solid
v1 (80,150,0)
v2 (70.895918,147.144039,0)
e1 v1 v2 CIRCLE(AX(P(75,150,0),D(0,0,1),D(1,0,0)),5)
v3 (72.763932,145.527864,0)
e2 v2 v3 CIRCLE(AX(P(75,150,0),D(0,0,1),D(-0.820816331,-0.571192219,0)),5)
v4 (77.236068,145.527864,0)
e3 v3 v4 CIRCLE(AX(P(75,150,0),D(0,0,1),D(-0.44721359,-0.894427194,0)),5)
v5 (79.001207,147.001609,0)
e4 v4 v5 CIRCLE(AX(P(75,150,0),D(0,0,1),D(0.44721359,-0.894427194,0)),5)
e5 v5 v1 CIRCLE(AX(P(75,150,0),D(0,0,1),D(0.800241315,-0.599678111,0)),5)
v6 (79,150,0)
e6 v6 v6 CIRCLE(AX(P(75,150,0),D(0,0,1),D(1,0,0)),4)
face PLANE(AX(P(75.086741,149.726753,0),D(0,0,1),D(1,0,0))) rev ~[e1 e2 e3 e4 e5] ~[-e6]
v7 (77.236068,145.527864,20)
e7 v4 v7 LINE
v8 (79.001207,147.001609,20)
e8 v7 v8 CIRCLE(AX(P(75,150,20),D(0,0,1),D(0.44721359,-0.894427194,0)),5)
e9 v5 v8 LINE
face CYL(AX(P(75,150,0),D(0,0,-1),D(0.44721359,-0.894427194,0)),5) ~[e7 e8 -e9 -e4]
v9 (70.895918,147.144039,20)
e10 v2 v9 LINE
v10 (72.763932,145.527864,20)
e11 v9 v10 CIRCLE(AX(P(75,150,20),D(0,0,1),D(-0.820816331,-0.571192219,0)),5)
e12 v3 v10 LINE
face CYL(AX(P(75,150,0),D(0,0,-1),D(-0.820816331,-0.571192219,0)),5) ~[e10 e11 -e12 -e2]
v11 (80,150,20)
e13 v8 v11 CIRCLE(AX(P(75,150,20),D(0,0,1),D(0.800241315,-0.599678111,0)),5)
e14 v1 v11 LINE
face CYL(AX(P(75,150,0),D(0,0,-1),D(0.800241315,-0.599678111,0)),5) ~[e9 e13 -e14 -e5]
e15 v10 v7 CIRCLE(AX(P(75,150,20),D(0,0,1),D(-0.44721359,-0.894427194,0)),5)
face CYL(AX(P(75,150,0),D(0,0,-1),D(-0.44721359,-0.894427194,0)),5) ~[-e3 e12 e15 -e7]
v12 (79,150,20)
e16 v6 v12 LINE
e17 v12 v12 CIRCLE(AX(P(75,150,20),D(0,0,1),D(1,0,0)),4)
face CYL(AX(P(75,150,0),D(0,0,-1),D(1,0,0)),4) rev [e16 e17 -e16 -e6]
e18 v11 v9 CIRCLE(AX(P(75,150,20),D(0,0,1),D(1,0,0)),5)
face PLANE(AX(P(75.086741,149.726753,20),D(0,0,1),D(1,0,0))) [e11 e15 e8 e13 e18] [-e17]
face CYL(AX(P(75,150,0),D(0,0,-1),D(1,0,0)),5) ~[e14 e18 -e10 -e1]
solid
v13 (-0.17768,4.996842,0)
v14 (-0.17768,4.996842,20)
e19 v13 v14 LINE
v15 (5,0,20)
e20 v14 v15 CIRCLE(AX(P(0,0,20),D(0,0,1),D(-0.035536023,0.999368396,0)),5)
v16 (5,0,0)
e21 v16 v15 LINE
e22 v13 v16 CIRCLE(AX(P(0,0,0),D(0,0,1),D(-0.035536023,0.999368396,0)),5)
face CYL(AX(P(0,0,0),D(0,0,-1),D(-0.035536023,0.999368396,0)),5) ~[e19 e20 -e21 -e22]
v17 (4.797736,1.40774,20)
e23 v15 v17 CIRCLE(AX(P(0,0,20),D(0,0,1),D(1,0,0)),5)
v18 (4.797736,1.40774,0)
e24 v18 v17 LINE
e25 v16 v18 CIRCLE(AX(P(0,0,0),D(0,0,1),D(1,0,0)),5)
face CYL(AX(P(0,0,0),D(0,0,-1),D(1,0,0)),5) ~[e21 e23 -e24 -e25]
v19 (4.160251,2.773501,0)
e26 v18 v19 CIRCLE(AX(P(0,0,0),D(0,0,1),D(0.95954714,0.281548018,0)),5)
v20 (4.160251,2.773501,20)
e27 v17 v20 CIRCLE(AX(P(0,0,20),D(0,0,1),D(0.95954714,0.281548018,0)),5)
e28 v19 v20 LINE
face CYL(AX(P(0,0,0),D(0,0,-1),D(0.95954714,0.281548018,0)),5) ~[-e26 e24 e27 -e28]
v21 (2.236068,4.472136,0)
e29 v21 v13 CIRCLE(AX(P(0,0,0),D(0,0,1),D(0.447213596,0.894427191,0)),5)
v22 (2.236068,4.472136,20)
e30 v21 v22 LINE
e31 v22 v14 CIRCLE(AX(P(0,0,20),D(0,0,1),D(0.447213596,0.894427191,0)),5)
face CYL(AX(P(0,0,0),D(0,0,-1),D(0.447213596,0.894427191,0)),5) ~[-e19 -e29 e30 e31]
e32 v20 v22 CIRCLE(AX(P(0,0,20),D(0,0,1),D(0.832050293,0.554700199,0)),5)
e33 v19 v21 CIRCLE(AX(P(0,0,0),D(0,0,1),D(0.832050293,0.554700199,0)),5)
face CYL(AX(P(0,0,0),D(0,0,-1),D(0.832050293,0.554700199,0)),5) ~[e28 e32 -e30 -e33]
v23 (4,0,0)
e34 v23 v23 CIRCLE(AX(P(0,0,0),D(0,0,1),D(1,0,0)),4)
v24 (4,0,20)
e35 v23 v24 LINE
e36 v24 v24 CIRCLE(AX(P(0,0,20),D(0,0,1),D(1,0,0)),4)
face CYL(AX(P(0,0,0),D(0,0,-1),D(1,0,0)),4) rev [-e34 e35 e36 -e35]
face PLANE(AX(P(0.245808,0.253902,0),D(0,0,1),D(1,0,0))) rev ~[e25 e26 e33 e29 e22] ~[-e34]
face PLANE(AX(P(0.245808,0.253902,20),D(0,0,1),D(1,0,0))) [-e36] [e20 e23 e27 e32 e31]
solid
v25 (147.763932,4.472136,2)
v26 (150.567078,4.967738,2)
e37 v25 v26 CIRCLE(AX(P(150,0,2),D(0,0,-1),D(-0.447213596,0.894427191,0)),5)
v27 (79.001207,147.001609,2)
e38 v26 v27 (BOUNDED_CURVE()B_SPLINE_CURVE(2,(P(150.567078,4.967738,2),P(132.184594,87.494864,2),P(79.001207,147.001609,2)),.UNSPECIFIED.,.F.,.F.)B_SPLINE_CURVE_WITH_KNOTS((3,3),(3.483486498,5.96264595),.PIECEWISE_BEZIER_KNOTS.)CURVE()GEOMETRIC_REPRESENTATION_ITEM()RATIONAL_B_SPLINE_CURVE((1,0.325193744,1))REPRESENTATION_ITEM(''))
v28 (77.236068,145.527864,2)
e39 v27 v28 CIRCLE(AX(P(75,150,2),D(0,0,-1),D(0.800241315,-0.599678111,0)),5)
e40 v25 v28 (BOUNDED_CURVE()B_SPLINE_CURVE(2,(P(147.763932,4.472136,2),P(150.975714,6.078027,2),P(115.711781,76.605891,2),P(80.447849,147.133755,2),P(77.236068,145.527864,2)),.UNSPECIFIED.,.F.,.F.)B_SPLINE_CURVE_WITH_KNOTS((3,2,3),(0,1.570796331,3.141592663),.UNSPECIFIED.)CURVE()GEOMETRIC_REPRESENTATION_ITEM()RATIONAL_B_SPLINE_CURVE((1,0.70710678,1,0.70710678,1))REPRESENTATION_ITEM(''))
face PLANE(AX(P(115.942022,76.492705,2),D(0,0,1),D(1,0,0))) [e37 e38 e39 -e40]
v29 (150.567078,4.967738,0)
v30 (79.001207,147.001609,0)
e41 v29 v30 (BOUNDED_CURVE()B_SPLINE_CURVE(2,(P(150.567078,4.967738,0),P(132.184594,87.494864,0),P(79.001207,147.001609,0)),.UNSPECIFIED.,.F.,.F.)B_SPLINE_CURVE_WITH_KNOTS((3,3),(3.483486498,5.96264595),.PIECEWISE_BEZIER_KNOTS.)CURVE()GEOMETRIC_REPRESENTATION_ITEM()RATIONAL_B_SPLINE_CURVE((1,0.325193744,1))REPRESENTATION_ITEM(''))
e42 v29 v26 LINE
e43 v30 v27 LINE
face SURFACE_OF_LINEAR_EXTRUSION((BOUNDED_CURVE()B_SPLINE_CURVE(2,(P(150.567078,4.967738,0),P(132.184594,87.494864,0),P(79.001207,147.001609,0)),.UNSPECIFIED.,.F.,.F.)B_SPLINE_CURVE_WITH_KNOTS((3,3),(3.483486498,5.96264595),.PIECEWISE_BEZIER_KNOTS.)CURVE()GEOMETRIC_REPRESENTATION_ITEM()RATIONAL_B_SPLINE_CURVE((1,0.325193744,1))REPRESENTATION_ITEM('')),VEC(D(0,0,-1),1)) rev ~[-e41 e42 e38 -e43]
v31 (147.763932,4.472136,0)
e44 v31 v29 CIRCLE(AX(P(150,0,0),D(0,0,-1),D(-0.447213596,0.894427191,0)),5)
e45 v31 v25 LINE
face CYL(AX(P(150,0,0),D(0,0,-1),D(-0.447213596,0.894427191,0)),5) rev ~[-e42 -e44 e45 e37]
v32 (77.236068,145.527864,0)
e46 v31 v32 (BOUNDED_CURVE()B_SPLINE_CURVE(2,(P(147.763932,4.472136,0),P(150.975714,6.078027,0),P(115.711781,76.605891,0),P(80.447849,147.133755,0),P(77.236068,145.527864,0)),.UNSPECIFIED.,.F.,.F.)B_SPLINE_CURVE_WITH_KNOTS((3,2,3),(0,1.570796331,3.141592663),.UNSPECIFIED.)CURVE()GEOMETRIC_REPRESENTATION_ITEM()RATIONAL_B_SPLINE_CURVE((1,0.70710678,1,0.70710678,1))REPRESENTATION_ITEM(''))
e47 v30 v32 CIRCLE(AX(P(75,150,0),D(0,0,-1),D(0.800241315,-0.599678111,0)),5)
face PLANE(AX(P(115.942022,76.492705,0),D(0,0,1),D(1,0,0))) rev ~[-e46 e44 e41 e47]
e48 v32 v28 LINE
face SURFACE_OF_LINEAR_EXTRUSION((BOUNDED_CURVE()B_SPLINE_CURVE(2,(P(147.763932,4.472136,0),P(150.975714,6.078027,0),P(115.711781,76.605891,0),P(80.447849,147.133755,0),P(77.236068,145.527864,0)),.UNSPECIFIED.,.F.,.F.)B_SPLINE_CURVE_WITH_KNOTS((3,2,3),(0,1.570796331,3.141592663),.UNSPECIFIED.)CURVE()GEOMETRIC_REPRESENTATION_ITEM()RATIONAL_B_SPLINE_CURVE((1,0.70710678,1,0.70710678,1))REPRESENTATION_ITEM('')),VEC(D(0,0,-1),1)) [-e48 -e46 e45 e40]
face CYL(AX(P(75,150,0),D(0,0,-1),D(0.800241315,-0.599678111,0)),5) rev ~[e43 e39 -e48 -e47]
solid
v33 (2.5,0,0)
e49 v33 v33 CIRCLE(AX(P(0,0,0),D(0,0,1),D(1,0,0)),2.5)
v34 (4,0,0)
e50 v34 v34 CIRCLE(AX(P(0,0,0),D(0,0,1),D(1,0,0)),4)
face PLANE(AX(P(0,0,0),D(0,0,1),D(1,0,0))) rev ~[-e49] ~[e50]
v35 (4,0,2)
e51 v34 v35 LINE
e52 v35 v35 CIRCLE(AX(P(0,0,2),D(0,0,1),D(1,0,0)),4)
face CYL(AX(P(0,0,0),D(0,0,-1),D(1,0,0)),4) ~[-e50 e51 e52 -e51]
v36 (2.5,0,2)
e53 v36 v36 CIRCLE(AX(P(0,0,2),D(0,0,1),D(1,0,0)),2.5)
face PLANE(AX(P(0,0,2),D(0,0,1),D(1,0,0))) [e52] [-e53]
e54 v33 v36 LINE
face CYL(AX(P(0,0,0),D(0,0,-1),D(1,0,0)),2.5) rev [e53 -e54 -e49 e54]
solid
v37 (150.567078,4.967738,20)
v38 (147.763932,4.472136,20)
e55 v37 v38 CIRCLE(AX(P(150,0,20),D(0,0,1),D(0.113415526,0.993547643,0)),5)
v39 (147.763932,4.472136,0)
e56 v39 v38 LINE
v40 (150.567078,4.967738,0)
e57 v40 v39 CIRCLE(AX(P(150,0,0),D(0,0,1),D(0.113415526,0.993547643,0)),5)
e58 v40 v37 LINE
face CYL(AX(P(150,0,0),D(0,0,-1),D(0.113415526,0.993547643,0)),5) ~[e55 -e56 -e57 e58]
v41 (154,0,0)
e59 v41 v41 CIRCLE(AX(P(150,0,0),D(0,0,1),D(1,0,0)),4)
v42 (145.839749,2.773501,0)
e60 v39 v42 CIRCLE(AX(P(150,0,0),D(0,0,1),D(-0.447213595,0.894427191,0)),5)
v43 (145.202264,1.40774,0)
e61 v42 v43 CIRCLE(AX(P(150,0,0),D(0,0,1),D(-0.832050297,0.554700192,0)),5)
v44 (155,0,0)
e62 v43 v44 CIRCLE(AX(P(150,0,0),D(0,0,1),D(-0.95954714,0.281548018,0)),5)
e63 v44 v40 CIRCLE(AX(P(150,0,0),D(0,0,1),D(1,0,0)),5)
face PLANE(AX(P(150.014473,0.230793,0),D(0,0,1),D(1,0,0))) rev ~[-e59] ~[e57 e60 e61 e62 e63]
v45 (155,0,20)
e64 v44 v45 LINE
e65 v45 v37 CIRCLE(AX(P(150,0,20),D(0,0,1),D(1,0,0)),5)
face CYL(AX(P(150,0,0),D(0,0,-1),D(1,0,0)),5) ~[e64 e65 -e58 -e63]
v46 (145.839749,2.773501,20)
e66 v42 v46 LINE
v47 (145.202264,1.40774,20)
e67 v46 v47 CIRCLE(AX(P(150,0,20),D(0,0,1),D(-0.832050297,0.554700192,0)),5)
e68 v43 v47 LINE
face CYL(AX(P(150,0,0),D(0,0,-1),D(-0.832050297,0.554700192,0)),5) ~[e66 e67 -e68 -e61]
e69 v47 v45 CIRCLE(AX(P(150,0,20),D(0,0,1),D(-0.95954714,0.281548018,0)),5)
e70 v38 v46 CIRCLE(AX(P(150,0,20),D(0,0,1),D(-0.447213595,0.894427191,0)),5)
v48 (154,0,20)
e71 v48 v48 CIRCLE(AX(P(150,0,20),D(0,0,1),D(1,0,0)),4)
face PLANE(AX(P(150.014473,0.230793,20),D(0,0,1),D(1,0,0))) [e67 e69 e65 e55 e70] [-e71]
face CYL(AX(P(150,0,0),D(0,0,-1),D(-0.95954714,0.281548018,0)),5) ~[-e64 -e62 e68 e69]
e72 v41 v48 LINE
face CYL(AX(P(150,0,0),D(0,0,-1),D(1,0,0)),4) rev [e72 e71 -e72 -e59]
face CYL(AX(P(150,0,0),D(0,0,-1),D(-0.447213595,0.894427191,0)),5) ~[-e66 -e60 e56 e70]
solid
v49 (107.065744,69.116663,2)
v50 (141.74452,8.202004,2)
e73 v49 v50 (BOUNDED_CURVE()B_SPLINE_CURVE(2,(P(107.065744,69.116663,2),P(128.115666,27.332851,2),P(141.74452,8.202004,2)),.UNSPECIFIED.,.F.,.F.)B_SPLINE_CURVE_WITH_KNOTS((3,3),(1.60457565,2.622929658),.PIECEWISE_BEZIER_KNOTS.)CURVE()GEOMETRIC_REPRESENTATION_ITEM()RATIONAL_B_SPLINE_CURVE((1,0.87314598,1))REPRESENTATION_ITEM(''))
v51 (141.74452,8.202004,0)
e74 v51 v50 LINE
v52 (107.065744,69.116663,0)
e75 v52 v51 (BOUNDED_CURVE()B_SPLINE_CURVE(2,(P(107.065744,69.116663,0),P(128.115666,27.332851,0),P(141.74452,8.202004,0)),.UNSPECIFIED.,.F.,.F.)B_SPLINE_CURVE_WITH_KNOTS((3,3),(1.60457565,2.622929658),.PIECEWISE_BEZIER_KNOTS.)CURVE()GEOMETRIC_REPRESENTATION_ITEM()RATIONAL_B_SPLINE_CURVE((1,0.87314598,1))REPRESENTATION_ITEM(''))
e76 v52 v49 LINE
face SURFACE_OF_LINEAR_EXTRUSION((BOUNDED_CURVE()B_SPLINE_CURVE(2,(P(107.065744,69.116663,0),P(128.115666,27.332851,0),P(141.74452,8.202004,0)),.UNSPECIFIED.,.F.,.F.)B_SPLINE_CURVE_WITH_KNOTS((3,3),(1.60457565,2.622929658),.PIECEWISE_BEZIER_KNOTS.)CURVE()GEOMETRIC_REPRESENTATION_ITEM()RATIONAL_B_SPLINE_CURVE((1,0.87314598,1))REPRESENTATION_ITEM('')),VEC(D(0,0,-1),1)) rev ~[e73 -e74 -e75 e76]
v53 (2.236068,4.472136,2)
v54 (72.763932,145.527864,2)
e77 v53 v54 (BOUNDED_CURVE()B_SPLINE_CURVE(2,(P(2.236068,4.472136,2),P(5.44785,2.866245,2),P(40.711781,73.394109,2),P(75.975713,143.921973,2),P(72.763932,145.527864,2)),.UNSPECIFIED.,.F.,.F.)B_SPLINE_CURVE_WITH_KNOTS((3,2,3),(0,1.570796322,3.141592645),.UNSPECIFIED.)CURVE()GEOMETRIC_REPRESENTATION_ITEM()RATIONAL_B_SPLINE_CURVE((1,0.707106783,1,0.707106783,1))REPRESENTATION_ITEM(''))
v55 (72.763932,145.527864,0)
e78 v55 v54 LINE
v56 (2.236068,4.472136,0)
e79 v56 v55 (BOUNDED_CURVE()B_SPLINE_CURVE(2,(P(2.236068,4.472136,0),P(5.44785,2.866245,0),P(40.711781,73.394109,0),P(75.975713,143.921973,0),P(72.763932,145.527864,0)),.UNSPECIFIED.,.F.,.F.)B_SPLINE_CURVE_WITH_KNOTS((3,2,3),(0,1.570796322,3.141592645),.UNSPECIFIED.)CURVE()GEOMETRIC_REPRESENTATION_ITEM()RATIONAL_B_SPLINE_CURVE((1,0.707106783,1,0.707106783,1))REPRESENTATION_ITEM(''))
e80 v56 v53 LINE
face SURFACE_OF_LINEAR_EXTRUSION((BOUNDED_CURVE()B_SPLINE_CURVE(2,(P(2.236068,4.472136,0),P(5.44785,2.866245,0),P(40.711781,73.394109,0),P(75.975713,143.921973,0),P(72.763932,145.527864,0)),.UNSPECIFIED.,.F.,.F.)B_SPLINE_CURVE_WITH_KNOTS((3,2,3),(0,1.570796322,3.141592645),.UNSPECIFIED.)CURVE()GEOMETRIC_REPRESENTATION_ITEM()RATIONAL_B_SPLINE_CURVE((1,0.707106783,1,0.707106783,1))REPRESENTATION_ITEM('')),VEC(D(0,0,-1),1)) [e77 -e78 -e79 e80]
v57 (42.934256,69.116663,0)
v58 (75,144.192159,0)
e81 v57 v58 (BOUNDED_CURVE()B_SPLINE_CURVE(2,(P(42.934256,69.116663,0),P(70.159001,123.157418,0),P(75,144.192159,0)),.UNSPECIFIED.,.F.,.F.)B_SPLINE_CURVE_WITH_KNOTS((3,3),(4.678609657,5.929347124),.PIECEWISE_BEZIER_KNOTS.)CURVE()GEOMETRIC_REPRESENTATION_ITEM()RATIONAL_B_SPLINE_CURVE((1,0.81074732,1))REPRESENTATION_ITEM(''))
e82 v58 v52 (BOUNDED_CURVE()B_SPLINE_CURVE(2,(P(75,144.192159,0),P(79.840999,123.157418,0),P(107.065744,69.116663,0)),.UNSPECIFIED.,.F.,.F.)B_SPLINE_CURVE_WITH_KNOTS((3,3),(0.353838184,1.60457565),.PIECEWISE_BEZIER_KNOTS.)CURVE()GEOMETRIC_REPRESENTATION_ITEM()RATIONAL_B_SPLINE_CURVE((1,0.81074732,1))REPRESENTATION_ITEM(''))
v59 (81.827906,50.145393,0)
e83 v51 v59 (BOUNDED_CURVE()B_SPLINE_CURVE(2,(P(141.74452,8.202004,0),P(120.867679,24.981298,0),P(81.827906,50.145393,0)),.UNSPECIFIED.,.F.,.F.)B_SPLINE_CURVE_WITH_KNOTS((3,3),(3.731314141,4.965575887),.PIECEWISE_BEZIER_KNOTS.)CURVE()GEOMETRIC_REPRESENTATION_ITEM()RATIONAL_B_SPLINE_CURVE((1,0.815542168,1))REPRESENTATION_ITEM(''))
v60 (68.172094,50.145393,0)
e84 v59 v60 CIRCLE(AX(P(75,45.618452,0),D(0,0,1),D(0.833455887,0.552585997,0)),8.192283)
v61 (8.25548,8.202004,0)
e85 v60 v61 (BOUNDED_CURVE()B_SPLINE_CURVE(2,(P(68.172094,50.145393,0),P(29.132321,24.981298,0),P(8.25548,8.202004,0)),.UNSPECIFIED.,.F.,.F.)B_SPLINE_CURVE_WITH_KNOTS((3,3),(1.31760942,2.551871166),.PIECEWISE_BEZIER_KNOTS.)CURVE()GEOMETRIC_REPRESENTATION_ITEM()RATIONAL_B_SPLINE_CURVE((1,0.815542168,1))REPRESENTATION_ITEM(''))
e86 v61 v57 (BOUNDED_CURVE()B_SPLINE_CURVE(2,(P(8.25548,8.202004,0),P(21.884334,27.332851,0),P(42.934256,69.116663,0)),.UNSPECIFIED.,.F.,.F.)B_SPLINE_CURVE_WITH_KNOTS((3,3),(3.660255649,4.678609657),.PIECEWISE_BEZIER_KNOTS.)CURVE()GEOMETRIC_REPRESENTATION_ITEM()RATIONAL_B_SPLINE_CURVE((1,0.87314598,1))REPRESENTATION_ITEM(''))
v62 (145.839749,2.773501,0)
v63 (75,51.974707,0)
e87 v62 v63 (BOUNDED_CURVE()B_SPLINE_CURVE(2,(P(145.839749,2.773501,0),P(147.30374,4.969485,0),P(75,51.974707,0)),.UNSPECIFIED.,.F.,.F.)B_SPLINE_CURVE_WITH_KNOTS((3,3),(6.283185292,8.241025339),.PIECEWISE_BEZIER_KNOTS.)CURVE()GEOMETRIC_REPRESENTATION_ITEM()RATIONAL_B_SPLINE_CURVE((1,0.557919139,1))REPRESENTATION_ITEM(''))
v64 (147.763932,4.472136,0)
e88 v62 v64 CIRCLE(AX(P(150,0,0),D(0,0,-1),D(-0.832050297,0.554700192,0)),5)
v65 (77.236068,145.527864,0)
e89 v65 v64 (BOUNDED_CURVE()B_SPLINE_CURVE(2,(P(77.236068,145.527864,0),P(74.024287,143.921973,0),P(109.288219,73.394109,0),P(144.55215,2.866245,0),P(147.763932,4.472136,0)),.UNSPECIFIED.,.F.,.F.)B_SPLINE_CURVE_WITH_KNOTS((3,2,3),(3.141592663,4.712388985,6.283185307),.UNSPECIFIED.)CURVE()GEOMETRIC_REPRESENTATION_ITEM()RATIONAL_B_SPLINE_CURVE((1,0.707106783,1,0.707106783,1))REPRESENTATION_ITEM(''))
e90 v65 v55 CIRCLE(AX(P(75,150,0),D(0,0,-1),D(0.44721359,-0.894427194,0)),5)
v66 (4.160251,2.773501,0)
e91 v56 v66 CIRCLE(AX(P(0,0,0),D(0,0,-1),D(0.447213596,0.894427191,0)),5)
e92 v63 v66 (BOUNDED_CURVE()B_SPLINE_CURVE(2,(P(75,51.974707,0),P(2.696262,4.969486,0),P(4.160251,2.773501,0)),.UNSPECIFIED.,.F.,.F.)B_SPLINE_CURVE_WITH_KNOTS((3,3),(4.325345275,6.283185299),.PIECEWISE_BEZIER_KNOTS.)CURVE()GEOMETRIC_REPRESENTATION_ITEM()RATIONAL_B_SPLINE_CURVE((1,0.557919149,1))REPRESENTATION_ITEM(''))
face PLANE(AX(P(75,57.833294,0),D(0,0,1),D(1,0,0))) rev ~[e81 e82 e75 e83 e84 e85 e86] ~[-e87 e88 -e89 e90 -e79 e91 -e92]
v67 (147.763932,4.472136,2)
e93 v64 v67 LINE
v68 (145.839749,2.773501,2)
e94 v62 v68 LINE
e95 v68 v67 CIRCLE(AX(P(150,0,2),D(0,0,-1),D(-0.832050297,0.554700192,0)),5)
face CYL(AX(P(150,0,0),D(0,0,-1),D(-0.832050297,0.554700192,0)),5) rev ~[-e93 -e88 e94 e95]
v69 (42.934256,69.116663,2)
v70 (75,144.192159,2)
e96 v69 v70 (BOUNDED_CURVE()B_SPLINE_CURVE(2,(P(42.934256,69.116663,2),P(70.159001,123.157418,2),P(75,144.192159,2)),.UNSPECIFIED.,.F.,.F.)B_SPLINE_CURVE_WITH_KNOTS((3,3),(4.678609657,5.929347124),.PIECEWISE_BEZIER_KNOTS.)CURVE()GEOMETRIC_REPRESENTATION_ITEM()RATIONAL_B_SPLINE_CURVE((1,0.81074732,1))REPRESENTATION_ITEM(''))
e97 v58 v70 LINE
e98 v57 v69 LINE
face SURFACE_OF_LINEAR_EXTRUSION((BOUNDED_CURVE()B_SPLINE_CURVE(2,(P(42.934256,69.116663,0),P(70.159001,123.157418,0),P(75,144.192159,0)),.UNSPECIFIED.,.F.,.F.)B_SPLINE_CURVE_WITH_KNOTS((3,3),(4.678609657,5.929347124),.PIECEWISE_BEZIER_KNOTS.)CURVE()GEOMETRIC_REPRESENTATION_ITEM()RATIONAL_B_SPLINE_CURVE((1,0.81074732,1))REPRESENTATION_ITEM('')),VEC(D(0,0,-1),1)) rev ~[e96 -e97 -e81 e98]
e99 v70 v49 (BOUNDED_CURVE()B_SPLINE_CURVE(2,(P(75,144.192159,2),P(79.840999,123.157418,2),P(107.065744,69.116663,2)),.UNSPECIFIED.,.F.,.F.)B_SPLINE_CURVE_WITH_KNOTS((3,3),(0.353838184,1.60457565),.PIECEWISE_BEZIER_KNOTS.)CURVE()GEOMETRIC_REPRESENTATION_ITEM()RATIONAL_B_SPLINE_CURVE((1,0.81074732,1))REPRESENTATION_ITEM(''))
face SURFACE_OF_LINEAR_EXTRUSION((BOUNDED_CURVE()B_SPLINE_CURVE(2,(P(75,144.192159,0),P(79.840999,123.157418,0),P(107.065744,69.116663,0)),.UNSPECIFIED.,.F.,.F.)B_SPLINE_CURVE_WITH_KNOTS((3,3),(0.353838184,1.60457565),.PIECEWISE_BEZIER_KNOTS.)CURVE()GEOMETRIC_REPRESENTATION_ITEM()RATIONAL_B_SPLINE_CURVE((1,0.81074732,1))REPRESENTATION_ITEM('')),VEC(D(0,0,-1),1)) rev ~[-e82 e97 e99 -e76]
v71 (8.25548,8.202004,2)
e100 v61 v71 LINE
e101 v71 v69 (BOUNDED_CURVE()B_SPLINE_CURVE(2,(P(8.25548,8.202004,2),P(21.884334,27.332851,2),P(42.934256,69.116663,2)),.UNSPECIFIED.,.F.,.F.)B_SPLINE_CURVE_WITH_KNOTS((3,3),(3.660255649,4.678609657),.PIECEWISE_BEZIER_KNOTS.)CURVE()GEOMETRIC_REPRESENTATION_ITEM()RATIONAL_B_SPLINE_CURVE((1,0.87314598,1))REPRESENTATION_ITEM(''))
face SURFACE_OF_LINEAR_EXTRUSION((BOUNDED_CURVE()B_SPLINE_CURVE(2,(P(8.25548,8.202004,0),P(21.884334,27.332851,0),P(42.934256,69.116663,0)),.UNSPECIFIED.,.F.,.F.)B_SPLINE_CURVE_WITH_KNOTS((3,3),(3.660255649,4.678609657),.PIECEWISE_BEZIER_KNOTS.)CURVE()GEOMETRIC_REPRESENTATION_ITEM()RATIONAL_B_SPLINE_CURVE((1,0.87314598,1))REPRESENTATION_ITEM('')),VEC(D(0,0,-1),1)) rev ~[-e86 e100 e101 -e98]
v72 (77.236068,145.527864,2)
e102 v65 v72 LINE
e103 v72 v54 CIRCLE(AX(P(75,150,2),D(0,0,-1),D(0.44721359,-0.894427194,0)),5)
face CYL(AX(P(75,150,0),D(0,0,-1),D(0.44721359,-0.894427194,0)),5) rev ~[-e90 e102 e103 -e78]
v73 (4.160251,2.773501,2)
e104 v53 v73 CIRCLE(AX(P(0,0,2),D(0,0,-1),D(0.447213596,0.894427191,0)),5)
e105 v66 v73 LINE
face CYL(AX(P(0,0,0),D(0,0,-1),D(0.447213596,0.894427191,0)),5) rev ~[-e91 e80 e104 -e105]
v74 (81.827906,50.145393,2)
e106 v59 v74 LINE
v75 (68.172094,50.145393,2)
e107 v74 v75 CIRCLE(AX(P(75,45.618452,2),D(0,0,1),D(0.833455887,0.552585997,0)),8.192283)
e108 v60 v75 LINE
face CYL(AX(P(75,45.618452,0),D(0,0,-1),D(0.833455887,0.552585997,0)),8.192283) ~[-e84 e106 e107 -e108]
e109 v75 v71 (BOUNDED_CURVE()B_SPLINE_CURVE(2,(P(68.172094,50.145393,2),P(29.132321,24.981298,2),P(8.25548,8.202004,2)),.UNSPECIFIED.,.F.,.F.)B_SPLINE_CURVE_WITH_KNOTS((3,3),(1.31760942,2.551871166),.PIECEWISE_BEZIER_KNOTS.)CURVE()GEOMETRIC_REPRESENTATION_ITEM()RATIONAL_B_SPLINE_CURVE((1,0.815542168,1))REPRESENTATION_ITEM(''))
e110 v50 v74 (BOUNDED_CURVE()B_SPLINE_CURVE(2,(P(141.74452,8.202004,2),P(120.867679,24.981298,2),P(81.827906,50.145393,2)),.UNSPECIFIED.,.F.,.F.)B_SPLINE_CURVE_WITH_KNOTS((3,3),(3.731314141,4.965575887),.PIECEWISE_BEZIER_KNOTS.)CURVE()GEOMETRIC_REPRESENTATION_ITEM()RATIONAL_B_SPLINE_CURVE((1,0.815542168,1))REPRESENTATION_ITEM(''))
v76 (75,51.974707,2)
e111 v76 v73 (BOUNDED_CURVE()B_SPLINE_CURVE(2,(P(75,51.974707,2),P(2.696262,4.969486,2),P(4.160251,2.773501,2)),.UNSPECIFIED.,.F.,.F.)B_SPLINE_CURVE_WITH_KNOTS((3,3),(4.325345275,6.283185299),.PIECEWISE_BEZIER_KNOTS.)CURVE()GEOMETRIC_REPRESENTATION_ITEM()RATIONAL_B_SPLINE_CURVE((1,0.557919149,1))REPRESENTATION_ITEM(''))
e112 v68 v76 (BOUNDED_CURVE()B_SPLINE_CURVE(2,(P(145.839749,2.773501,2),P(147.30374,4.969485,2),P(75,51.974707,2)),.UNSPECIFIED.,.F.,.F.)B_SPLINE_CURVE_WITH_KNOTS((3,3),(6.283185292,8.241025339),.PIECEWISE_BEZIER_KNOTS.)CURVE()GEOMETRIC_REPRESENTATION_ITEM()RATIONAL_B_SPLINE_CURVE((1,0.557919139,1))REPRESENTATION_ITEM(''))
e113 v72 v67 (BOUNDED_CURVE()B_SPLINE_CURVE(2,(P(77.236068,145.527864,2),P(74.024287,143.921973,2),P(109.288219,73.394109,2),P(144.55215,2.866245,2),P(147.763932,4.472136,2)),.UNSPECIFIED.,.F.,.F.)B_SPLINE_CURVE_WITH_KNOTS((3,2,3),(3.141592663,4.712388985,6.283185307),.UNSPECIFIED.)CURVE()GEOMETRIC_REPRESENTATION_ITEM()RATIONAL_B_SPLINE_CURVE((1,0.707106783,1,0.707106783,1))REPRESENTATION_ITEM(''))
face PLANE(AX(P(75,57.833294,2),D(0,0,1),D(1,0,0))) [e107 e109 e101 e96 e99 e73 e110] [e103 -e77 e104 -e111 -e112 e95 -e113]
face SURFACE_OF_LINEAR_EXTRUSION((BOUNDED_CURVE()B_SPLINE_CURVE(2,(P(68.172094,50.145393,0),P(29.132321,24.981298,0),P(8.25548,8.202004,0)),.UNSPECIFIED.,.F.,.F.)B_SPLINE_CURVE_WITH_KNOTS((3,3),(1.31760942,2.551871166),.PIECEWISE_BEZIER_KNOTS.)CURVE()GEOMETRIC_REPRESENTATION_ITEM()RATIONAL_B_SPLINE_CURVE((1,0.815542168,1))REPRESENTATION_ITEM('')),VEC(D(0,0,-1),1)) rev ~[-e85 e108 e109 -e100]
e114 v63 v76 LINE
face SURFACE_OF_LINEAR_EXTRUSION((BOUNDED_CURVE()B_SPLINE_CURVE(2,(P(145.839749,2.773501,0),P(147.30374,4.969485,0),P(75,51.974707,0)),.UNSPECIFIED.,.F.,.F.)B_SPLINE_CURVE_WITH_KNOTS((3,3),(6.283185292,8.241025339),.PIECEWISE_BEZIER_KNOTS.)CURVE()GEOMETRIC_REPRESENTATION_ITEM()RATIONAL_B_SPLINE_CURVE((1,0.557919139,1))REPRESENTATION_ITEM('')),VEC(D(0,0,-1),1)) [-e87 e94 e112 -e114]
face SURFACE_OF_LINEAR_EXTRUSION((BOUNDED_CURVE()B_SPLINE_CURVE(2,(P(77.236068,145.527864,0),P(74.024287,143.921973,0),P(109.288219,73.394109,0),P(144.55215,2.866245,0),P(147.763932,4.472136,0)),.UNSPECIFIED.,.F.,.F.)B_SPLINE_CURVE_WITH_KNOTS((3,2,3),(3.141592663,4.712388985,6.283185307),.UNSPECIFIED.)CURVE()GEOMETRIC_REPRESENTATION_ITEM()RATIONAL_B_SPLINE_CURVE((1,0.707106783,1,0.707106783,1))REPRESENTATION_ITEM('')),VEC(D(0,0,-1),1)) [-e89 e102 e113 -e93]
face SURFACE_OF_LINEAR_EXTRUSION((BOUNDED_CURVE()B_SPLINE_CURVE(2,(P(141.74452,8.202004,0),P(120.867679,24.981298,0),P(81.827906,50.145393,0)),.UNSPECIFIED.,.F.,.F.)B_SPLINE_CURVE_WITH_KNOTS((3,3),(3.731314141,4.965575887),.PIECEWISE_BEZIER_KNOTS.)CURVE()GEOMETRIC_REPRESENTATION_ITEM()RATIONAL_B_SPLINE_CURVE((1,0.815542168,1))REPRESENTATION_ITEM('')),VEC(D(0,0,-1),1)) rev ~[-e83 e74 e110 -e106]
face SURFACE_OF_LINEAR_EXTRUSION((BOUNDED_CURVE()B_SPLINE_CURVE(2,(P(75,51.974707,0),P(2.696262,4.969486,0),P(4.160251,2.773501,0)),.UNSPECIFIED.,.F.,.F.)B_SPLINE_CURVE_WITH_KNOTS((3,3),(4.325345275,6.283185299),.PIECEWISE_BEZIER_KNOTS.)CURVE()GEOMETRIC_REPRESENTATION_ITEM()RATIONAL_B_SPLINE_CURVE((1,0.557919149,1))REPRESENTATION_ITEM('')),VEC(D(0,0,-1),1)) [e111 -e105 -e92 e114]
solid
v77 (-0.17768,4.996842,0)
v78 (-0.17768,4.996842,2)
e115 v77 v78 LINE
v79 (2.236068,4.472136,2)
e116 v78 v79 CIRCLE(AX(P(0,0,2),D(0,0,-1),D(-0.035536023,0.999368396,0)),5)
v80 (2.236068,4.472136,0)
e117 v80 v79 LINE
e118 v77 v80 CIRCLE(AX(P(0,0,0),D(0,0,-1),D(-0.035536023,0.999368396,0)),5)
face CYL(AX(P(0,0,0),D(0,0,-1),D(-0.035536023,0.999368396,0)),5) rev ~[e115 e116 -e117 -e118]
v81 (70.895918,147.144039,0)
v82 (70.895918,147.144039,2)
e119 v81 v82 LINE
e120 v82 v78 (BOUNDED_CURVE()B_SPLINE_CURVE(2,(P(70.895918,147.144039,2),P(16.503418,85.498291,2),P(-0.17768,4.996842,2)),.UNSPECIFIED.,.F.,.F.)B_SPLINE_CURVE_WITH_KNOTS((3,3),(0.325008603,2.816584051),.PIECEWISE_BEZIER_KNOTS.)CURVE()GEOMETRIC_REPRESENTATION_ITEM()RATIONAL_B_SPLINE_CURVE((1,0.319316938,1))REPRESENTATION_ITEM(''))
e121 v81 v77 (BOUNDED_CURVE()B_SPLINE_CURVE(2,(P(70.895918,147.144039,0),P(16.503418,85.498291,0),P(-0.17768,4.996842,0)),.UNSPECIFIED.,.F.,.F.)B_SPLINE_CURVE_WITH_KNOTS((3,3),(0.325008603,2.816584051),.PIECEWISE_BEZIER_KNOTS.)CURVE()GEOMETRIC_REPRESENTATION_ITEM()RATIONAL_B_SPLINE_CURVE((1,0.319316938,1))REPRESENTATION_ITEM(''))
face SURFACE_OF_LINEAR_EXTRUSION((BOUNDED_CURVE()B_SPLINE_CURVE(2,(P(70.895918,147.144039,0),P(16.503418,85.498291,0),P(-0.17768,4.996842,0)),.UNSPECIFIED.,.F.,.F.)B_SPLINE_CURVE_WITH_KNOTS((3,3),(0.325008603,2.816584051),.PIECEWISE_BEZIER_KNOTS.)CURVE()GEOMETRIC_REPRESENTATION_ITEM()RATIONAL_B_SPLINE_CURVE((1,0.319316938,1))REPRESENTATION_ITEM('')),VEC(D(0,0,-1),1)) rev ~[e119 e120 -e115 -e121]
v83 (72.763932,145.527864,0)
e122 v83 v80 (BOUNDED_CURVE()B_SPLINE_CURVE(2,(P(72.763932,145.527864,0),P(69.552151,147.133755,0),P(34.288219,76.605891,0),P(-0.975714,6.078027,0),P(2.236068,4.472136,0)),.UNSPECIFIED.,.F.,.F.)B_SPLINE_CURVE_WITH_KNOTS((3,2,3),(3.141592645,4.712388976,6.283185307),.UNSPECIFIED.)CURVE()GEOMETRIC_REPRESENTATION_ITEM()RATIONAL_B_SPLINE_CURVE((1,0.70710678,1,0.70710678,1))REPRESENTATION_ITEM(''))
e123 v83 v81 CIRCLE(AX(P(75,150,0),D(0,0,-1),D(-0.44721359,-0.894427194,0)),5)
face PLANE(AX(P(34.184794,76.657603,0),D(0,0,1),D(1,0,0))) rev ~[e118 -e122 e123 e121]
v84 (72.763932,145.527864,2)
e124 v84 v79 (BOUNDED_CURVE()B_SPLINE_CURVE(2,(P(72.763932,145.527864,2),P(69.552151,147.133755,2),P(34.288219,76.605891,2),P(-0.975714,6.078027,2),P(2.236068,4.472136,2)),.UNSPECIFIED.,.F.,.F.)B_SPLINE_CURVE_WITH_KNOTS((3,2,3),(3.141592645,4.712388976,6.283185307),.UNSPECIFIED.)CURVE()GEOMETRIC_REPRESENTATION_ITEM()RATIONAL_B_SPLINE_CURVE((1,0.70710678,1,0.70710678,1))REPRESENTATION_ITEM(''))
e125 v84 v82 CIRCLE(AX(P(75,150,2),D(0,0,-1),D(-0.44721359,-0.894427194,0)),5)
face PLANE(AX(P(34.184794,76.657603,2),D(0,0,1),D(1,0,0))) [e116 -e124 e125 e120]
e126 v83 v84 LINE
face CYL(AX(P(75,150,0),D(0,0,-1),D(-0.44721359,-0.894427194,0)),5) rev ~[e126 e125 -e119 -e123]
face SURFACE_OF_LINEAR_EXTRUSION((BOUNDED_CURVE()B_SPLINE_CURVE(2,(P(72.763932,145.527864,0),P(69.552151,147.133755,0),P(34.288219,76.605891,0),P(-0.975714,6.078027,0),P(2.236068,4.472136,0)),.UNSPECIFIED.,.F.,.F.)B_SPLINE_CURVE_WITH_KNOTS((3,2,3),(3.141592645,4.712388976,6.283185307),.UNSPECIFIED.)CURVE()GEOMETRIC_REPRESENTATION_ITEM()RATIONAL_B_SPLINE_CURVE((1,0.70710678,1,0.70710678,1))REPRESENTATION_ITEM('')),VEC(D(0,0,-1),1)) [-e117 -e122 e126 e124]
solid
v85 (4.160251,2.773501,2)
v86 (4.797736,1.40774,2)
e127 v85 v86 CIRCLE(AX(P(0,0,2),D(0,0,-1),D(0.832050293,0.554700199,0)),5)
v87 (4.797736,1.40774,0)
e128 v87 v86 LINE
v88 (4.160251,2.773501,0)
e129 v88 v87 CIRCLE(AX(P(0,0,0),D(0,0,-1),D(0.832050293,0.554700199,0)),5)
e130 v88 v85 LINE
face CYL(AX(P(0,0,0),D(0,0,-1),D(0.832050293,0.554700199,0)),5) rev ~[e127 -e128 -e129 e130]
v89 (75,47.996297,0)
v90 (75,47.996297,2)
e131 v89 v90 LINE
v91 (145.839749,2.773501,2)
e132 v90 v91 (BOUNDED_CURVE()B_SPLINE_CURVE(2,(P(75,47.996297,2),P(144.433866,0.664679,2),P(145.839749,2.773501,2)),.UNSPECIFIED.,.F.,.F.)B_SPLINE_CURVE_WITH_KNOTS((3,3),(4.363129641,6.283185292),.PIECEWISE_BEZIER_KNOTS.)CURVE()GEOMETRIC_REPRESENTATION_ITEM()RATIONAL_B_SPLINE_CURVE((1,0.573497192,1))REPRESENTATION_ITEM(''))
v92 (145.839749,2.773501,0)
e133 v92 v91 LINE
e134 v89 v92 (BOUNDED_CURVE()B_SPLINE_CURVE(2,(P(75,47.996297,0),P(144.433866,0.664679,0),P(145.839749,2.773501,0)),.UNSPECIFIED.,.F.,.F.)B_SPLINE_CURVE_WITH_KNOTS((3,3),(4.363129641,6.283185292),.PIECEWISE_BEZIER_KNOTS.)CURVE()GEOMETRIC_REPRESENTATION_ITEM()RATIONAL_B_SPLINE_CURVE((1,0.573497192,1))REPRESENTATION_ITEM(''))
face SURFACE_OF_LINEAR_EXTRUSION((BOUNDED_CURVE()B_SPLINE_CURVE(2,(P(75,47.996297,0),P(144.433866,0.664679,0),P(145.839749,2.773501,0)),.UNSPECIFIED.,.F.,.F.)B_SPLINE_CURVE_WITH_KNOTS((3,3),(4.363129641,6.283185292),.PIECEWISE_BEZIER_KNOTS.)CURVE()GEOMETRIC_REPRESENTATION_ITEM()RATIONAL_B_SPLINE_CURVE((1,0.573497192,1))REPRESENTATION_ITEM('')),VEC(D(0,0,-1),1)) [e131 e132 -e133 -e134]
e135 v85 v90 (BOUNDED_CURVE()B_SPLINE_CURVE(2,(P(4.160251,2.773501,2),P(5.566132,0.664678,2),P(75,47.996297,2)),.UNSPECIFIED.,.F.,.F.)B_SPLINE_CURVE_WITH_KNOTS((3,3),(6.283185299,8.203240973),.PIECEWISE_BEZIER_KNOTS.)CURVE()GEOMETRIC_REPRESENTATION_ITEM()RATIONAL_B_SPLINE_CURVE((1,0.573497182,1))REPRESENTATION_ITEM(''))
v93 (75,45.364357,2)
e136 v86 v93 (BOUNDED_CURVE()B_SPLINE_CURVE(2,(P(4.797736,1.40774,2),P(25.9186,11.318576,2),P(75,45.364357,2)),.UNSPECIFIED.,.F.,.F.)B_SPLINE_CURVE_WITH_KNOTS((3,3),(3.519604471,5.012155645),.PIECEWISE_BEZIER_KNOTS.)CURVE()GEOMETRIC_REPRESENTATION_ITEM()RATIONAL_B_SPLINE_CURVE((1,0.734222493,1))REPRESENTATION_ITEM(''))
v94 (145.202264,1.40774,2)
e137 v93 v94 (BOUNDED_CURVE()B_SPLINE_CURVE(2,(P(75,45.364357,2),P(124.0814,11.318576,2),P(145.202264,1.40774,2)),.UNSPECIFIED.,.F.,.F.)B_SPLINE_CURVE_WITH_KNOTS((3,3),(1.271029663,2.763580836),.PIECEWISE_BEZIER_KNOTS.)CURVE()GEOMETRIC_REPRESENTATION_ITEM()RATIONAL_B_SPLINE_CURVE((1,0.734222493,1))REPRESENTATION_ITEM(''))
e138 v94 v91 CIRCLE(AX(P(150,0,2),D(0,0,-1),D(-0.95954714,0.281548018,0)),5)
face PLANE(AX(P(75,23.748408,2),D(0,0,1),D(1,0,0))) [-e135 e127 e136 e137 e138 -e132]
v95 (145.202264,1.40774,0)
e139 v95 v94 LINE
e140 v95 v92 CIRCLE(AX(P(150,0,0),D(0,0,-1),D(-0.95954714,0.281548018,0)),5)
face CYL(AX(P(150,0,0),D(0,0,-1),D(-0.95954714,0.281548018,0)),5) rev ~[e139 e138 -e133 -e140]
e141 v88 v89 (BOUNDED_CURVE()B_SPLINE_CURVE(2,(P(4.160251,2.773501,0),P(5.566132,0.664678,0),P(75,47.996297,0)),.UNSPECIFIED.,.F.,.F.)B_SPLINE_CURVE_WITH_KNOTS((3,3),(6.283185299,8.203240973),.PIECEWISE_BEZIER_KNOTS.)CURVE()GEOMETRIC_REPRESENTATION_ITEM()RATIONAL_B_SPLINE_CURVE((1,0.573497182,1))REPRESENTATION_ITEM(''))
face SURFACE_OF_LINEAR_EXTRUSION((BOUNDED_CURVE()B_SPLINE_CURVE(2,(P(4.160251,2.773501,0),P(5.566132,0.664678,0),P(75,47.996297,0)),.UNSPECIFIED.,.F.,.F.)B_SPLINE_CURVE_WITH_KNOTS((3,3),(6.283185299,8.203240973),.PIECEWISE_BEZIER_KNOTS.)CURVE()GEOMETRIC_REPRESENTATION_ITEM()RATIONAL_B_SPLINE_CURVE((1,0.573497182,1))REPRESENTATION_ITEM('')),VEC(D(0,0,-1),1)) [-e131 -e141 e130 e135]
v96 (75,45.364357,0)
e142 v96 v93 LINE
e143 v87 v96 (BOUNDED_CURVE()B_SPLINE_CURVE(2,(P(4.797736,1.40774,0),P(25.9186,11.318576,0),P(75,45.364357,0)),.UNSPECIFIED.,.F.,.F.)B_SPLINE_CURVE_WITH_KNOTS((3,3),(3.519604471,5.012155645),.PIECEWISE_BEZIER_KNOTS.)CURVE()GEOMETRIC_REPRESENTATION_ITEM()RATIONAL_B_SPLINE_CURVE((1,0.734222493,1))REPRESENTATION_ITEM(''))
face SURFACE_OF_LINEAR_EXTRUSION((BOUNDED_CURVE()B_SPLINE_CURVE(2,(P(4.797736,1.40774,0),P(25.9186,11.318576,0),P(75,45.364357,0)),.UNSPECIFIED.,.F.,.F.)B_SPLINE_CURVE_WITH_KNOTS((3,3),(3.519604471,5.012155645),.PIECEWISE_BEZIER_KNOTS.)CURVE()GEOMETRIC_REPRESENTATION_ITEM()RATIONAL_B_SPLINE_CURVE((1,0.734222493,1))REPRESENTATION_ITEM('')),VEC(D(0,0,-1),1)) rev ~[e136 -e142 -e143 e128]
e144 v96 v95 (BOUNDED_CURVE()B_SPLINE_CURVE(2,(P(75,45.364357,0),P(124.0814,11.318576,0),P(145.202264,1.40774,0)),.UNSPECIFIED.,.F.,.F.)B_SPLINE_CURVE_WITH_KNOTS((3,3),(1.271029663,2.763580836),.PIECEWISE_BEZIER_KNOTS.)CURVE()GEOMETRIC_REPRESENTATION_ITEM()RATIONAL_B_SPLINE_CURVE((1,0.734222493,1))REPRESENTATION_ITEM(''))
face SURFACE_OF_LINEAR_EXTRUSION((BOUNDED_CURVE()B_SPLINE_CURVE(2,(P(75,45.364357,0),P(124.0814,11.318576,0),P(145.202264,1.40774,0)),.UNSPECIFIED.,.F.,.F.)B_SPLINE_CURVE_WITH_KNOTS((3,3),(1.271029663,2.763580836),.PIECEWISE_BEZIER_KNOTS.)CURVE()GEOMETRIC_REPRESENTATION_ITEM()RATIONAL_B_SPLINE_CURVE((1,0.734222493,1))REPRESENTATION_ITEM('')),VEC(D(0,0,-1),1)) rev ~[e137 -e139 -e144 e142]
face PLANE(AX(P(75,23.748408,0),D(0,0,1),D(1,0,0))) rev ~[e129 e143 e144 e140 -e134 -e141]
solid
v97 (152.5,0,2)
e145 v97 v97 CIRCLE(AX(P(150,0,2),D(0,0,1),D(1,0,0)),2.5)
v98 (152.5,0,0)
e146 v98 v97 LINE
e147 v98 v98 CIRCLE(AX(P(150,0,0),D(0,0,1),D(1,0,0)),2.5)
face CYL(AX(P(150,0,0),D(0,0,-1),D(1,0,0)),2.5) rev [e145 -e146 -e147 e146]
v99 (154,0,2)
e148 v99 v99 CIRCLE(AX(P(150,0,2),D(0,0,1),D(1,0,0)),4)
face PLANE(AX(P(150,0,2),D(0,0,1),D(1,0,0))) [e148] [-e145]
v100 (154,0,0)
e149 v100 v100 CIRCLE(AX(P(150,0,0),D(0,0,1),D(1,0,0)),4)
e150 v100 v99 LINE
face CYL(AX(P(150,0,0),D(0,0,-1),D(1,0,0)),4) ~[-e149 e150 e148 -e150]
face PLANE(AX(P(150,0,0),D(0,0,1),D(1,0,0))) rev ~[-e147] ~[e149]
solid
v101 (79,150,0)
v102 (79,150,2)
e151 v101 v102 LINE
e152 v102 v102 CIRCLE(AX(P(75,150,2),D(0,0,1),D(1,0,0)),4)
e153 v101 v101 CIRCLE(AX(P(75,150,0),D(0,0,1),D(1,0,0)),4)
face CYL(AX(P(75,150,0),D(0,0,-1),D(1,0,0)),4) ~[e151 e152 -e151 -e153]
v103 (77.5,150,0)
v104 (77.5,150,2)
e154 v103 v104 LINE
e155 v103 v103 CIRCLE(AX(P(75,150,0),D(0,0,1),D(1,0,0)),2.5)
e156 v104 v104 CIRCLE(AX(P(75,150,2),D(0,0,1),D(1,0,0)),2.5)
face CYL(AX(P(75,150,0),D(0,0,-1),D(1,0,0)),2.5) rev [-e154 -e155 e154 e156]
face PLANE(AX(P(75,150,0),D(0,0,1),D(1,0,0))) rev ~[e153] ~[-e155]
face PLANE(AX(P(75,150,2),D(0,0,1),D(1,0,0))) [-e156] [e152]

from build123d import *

# Parameters (mm, degrees)
F0_R     = 4
F0_R_2   = 2.5
F1_DEPTH = 2
F2_DEPTH = 20


with BuildPart() as f1:
    # F0 (on Top) → F1 (new body)
    with BuildSketch(Plane.XY):
        Circle(F0_R)
        Circle(F0_R_2, mode=Mode.SUBTRACT)
    extrude(amount=F1_DEPTH)


with BuildPart() as f1b:
    # F0 (on Top) → F1, piece 2 (new body)
    with BuildSketch(Plane.XY):
        with Locations((150, -6e-10)):
            Circle(F0_R)
        with Locations((150, -6e-10)):
            Circle(F0_R_2, mode=Mode.SUBTRACT)
    extrude(amount=F1_DEPTH)


with BuildPart() as f1c:
    # F0 (on Top) → F1, piece 3 (new body)
    with BuildSketch(Plane.XY):
        with Locations((75.0000000006, 149.9999999997)):
            Circle(F0_R)
        with Locations((75.0000000006, 149.9999999997)):
            Circle(F0_R_2, mode=Mode.SUBTRACT)
    extrude(amount=F1_DEPTH)


with BuildPart() as f1d:
    # F0 (on Top) → F1, piece 4 (new body)
    with BuildSketch(Plane.XY):
        with BuildLine():
            ThreePointArc((79.0012065768, 147.0016094424), (78.2045092857, 146.161885848), (77.2360679487, 145.52786403))
            add(Edge.make_bspline(
                [(147.7639320225, 4.4721359544), (150.975713636, 6.0780267612), (115.7117814382, 76.6058911209), (80.4478492403, 147.1337554807), (77.2360679487, 145.52786403)],
                knots=[0, 0, 0, 1.5707963314, 1.5707963314, 3.1415926627, 3.1415926627, 3.1415926627], degree=2, weights=[1, 0.7071067796, 1, 0.7071067796, 1]))
            ThreePointArc((147.7639320225, 4.4721359544), (149.1294900371, 4.9236381263), (150.5670776291, 4.9677382134))
            add(Edge.make_bspline(
                [(150.5670776291, 4.9677382134), (132.1845938597, 87.4948643458), (79.0012065768, 147.0016094424)],
                knots=[3.4834864984, 3.4834864984, 3.4834864984, 5.9626459505, 5.9626459505, 5.9626459505], degree=2, weights=[1, 0.3251937441, 1]))
        make_face()
    extrude(amount=F1_DEPTH)


with BuildPart() as f1e:
    # F0 (on Top) → F1, piece 5 (new body)
    with BuildSketch(Plane.XY):
        with BuildLine():
            ThreePointArc((2.2360679775, 4.472135955), (3.3090128106, 3.748390884), (4.1602514634, 2.7735009936))
            add(Edge.make_bspline(
                [(75.0000000001, 51.9747073929), (2.6962620712, 4.9694864759), (4.1602514634, 2.7735009936)],
                knots=[4.325345275, 4.325345275, 4.325345275, 6.2831852989, 6.2831852989, 6.2831852989], degree=2, weights=[1, 0.557919149, 1]))
            add(Edge.make_bspline(
                [(145.8397485132, 2.7735009585), (147.3037397677, 4.96948528), (75, 51.974707393)],
                knots=[6.2831852919, 6.2831852919, 6.2831852919, 8.2410253393, 8.2410253393, 8.2410253393], degree=2, weights=[1, 0.5579191392, 1]))
            ThreePointArc((145.8397485135, 2.7735009583), (146.6909871738, 3.7483908697), (147.7639320225, 4.4721359544))
            add(Edge.make_bspline(
                [(77.2360679487, 145.52786403), (74.0242866865, 143.9219725941), (109.2882185624, 73.3941088782), (144.5521504383, 2.8662451623), (147.7639320225, 4.4721359544)],
                knots=[3.1415926627, 3.1415926627, 3.1415926627, 4.7123889849, 4.7123889849, 6.2831853072, 6.2831853072, 6.2831853072], degree=2, weights=[1, 0.7071067828, 1, 0.7071067828, 1]))
            ThreePointArc((77.2360679487, 145.52786403), (75.0000000006, 144.9999999997), (72.7639320524, 145.5278640301))
            add(Edge.make_bspline(
                [(2.2360679775, 4.472135955), (5.4478495617, 2.8662451629), (40.7117814382, 73.3941088785), (75.9757133146, 143.9219725941), (72.7639320524, 145.5278640301)],
                knots=[0, 0, 0, 1.5707963222, 1.5707963222, 3.1415926445, 3.1415926445, 3.1415926445], degree=2, weights=[1, 0.7071067828, 1, 0.7071067828, 1]))
        make_face()
        with BuildLine():
            add(Edge.make_bspline(
                [(68.1720938249, 50.1453927692), (29.1323210889, 24.9812978491), (8.2554800597, 8.2020035961)],
                knots=[1.3176094199, 1.3176094199, 1.3176094199, 2.5518711664, 2.5518711664, 2.5518711664], degree=2, weights=[1, 0.815542168, 1]))
            add(Edge.make_bspline(
                [(8.2554800595, 8.202003595), (21.8843343101, 27.3328513739), (42.9342556451, 69.1166628307)],
                knots=[3.6602556494, 3.6602556494, 3.6602556494, 4.6786096571, 4.6786096571, 4.6786096571], degree=2, weights=[1, 0.87314598, 1]))
            add(Edge.make_bspline(
                [(42.9342556451, 69.1166628307), (70.1590012341, 123.1574175937), (75.0000000002, 144.1921586292)],
                knots=[4.6786096571, 4.6786096571, 4.6786096571, 5.9293471235, 5.9293471235, 5.9293471235], degree=2, weights=[1, 0.8107473196, 1]))
            add(Edge.make_bspline(
                [(74.9999999999, 144.19215863), (79.8409987654, 123.1574175953), (107.0657443546, 69.1166628313)],
                knots=[0.3538381837, 0.3538381837, 0.3538381837, 1.6045756501, 1.6045756501, 1.6045756501], degree=2, weights=[1, 0.8107473196, 1]))
            add(Edge.make_bspline(
                [(107.0657443546, 69.1166628313), (128.1156656889, 27.3328513755), (141.7445199396, 8.2020035958)],
                knots=[1.6045756501, 1.6045756501, 1.6045756501, 2.6229296578, 2.6229296578, 2.6229296578], degree=2, weights=[1, 0.87314598, 1]))
            add(Edge.make_bspline(
                [(141.7445199402, 8.2020035961), (120.867678911, 24.9812978491), (81.8279061752, 50.1453927692)],
                knots=[3.7313141408, 3.7313141408, 3.7313141408, 4.9655758873, 4.9655758873, 4.9655758873], degree=2, weights=[1, 0.815542168, 1]))
            ThreePointArc((81.8279061752, 50.1453927687), (75.0000000001, 53.8107347275), (68.172093825, 50.1453927685))
        make_face(mode=Mode.SUBTRACT)
    extrude(amount=F1_DEPTH)


with BuildPart() as f1f:
    # F0 (on Top) → F1, piece 6 (new body)
    with BuildSketch(Plane.XY):
        with BuildLine():
            ThreePointArc((4.1602514634, 2.7735009936), (4.5307515066, 2.1147791341), (4.7977356994, 1.4077400892))
            add(Edge.make_bspline(
                [(4.7977356994, 1.4077400892), (25.9185998279, 11.3185764312), (75, 45.3643565351)],
                knots=[3.5196044708, 3.5196044708, 3.5196044708, 5.0121556446, 5.0121556446, 5.0121556446], degree=2, weights=[1, 0.7342224926, 1]))
            add(Edge.make_bspline(
                [(75.0000000002, 45.364356535), (124.0814001723, 11.318576431), (145.2022643006, 1.4077400891)],
                knots=[1.2710296626, 1.2710296626, 1.2710296626, 2.7635808363, 2.7635808363, 2.7635808363], degree=2, weights=[1, 0.7342224926, 1]))
            ThreePointArc((145.2022643007, 1.407740089), (145.4692484847, 2.1147791148), (145.8397485135, 2.7735009583))
            add(Edge.make_bspline(
                [(75, 47.9962967473), (144.4338658752, 0.66467946), (145.8397485132, 2.7735009585)],
                knots=[4.3631296412, 4.3631296412, 4.3631296412, 6.2831852919, 6.2831852919, 6.2831852919], degree=2, weights=[1, 0.5734971915, 1]))
            add(Edge.make_bspline(
                [(4.1602514634, 2.7735009936), (5.5661323841, 0.6646782739), (75, 47.9962967472)],
                knots=[6.2831852989, 6.2831852989, 6.2831852989, 8.2032409732, 8.2032409732, 8.2032409732], degree=2, weights=[1, 0.5734971819, 1]))
        make_face()
    extrude(amount=F1_DEPTH)


with BuildPart() as f1g:
    # F0 (on Top) → F1, piece 7 (new body)
    with BuildSketch(Plane.XY):
        with BuildLine():
            add(Edge.make_bspline(
                [(70.895918346, 147.1440389043), (16.5034184914, 85.4982907485), (-0.1776801167, 4.9968419798)],
                knots=[0.3250086026, 0.3250086026, 0.3250086026, 2.816584051, 2.816584051, 2.816584051], degree=2, weights=[1, 0.3193169381, 1]))
            ThreePointArc((-0.1776801167, 4.9968419803), (1.0621060445, 4.8858909884), (2.2360679775, 4.472135955))
            add(Edge.make_bspline(
                [(72.7639320524, 145.5278640301), (69.5521507608, 147.1337554807), (34.2882185624, 76.6058911212), (-0.975713636, 6.0780267618), (2.2360679775, 4.472135955)],
                knots=[3.1415926445, 3.1415926445, 3.1415926445, 4.7123889758, 4.7123889758, 6.2831853072, 6.2831853072, 6.2831853072], degree=2, weights=[1, 0.7071067796, 1, 0.7071067796, 1]))
            ThreePointArc((72.7639320524, 145.5278640301), (71.728550849, 146.2187805603), (70.8959183465, 147.1440389047))
        make_face()
    extrude(amount=F1_DEPTH)


with BuildPart() as f2:
    # F0 (on Top) → F2 (new body)
    with BuildSketch(Plane.XY):
        with BuildLine():
            ThreePointArc((-0.1776801167, 4.9968419803), (-3.4721462683, -3.5978049269), (5, 0))
            ThreePointArc((5, 0), (4.949175613, 0.7110982713), (4.7977356994, 1.4077400892))
            ThreePointArc((4.7977356994, 1.4077400892), (4.5307515066, 2.1147791341), (4.1602514634, 2.7735009936))
            ThreePointArc((4.1602514634, 2.7735009936), (3.3090128106, 3.748390884), (2.2360679775, 4.472135955))
            ThreePointArc((2.2360679775, 4.472135955), (1.0621060445, 4.8858909884), (-0.1776801167, 4.9968419803))
        make_face()
        Circle(F0_R, mode=Mode.SUBTRACT)
    extrude(amount=F2_DEPTH)


with BuildPart() as f2b:
    # F0 (on Top) → F2, piece 2 (new body)
    with BuildSketch(Plane.XY):
        with BuildLine():
            ThreePointArc((145.8397485135, 2.7735009583), (145.4692484847, 2.1147791148), (145.2022643007, 1.407740089))
            ThreePointArc((145.2022643007, 1.407740089), (149.2889017285, -4.9491756136), (155, -6e-10))
            ThreePointArc((155, -6e-10), (153.7306425817, 3.3290097512), (150.5670776291, 4.9677382134))
            ThreePointArc((150.5670776291, 4.9677382134), (149.1294900371, 4.9236381263), (147.7639320225, 4.4721359544))
            ThreePointArc((147.7639320225, 4.4721359544), (146.6909871738, 3.7483908697), (145.8397485135, 2.7735009583))
        make_face()
        with Locations((150, -6e-10)):
            Circle(F0_R, mode=Mode.SUBTRACT)
    extrude(amount=F2_DEPTH)


with BuildPart() as f2c:
    # F0 (on Top) → F2, piece 3 (new body)
    with BuildSketch(Plane.XY):
        with BuildLine():
            ThreePointArc((80.0000000006, 149.9999999997), (73.5034052442, 154.7707655709), (70.8959183465, 147.1440389047))
            ThreePointArc((70.8959183465, 147.1440389047), (71.728550849, 146.2187805603), (72.7639320524, 145.5278640301))
            ThreePointArc((72.7639320524, 145.5278640301), (75.0000000006, 144.9999999997), (77.2360679487, 145.52786403))
            ThreePointArc((77.2360679487, 145.52786403), (78.2045092857, 146.161885848), (79.0012065768, 147.0016094424))
            ThreePointArc((79.0012065768, 147.0016094424), (79.7437344409, 148.4198153398), (80.0000000006, 149.9999999997))
        make_face()
        with Locations((75.0000000006, 149.9999999997)):
            Circle(F0_R, mode=Mode.SUBTRACT)
    extrude(amount=F2_DEPTH)


solid = Compound([f1.part, f1b.part, f1c.part, f1d.part, f1e.part, f1f.part, f1g.part, f2.part, f2b.part, f2c.part])
